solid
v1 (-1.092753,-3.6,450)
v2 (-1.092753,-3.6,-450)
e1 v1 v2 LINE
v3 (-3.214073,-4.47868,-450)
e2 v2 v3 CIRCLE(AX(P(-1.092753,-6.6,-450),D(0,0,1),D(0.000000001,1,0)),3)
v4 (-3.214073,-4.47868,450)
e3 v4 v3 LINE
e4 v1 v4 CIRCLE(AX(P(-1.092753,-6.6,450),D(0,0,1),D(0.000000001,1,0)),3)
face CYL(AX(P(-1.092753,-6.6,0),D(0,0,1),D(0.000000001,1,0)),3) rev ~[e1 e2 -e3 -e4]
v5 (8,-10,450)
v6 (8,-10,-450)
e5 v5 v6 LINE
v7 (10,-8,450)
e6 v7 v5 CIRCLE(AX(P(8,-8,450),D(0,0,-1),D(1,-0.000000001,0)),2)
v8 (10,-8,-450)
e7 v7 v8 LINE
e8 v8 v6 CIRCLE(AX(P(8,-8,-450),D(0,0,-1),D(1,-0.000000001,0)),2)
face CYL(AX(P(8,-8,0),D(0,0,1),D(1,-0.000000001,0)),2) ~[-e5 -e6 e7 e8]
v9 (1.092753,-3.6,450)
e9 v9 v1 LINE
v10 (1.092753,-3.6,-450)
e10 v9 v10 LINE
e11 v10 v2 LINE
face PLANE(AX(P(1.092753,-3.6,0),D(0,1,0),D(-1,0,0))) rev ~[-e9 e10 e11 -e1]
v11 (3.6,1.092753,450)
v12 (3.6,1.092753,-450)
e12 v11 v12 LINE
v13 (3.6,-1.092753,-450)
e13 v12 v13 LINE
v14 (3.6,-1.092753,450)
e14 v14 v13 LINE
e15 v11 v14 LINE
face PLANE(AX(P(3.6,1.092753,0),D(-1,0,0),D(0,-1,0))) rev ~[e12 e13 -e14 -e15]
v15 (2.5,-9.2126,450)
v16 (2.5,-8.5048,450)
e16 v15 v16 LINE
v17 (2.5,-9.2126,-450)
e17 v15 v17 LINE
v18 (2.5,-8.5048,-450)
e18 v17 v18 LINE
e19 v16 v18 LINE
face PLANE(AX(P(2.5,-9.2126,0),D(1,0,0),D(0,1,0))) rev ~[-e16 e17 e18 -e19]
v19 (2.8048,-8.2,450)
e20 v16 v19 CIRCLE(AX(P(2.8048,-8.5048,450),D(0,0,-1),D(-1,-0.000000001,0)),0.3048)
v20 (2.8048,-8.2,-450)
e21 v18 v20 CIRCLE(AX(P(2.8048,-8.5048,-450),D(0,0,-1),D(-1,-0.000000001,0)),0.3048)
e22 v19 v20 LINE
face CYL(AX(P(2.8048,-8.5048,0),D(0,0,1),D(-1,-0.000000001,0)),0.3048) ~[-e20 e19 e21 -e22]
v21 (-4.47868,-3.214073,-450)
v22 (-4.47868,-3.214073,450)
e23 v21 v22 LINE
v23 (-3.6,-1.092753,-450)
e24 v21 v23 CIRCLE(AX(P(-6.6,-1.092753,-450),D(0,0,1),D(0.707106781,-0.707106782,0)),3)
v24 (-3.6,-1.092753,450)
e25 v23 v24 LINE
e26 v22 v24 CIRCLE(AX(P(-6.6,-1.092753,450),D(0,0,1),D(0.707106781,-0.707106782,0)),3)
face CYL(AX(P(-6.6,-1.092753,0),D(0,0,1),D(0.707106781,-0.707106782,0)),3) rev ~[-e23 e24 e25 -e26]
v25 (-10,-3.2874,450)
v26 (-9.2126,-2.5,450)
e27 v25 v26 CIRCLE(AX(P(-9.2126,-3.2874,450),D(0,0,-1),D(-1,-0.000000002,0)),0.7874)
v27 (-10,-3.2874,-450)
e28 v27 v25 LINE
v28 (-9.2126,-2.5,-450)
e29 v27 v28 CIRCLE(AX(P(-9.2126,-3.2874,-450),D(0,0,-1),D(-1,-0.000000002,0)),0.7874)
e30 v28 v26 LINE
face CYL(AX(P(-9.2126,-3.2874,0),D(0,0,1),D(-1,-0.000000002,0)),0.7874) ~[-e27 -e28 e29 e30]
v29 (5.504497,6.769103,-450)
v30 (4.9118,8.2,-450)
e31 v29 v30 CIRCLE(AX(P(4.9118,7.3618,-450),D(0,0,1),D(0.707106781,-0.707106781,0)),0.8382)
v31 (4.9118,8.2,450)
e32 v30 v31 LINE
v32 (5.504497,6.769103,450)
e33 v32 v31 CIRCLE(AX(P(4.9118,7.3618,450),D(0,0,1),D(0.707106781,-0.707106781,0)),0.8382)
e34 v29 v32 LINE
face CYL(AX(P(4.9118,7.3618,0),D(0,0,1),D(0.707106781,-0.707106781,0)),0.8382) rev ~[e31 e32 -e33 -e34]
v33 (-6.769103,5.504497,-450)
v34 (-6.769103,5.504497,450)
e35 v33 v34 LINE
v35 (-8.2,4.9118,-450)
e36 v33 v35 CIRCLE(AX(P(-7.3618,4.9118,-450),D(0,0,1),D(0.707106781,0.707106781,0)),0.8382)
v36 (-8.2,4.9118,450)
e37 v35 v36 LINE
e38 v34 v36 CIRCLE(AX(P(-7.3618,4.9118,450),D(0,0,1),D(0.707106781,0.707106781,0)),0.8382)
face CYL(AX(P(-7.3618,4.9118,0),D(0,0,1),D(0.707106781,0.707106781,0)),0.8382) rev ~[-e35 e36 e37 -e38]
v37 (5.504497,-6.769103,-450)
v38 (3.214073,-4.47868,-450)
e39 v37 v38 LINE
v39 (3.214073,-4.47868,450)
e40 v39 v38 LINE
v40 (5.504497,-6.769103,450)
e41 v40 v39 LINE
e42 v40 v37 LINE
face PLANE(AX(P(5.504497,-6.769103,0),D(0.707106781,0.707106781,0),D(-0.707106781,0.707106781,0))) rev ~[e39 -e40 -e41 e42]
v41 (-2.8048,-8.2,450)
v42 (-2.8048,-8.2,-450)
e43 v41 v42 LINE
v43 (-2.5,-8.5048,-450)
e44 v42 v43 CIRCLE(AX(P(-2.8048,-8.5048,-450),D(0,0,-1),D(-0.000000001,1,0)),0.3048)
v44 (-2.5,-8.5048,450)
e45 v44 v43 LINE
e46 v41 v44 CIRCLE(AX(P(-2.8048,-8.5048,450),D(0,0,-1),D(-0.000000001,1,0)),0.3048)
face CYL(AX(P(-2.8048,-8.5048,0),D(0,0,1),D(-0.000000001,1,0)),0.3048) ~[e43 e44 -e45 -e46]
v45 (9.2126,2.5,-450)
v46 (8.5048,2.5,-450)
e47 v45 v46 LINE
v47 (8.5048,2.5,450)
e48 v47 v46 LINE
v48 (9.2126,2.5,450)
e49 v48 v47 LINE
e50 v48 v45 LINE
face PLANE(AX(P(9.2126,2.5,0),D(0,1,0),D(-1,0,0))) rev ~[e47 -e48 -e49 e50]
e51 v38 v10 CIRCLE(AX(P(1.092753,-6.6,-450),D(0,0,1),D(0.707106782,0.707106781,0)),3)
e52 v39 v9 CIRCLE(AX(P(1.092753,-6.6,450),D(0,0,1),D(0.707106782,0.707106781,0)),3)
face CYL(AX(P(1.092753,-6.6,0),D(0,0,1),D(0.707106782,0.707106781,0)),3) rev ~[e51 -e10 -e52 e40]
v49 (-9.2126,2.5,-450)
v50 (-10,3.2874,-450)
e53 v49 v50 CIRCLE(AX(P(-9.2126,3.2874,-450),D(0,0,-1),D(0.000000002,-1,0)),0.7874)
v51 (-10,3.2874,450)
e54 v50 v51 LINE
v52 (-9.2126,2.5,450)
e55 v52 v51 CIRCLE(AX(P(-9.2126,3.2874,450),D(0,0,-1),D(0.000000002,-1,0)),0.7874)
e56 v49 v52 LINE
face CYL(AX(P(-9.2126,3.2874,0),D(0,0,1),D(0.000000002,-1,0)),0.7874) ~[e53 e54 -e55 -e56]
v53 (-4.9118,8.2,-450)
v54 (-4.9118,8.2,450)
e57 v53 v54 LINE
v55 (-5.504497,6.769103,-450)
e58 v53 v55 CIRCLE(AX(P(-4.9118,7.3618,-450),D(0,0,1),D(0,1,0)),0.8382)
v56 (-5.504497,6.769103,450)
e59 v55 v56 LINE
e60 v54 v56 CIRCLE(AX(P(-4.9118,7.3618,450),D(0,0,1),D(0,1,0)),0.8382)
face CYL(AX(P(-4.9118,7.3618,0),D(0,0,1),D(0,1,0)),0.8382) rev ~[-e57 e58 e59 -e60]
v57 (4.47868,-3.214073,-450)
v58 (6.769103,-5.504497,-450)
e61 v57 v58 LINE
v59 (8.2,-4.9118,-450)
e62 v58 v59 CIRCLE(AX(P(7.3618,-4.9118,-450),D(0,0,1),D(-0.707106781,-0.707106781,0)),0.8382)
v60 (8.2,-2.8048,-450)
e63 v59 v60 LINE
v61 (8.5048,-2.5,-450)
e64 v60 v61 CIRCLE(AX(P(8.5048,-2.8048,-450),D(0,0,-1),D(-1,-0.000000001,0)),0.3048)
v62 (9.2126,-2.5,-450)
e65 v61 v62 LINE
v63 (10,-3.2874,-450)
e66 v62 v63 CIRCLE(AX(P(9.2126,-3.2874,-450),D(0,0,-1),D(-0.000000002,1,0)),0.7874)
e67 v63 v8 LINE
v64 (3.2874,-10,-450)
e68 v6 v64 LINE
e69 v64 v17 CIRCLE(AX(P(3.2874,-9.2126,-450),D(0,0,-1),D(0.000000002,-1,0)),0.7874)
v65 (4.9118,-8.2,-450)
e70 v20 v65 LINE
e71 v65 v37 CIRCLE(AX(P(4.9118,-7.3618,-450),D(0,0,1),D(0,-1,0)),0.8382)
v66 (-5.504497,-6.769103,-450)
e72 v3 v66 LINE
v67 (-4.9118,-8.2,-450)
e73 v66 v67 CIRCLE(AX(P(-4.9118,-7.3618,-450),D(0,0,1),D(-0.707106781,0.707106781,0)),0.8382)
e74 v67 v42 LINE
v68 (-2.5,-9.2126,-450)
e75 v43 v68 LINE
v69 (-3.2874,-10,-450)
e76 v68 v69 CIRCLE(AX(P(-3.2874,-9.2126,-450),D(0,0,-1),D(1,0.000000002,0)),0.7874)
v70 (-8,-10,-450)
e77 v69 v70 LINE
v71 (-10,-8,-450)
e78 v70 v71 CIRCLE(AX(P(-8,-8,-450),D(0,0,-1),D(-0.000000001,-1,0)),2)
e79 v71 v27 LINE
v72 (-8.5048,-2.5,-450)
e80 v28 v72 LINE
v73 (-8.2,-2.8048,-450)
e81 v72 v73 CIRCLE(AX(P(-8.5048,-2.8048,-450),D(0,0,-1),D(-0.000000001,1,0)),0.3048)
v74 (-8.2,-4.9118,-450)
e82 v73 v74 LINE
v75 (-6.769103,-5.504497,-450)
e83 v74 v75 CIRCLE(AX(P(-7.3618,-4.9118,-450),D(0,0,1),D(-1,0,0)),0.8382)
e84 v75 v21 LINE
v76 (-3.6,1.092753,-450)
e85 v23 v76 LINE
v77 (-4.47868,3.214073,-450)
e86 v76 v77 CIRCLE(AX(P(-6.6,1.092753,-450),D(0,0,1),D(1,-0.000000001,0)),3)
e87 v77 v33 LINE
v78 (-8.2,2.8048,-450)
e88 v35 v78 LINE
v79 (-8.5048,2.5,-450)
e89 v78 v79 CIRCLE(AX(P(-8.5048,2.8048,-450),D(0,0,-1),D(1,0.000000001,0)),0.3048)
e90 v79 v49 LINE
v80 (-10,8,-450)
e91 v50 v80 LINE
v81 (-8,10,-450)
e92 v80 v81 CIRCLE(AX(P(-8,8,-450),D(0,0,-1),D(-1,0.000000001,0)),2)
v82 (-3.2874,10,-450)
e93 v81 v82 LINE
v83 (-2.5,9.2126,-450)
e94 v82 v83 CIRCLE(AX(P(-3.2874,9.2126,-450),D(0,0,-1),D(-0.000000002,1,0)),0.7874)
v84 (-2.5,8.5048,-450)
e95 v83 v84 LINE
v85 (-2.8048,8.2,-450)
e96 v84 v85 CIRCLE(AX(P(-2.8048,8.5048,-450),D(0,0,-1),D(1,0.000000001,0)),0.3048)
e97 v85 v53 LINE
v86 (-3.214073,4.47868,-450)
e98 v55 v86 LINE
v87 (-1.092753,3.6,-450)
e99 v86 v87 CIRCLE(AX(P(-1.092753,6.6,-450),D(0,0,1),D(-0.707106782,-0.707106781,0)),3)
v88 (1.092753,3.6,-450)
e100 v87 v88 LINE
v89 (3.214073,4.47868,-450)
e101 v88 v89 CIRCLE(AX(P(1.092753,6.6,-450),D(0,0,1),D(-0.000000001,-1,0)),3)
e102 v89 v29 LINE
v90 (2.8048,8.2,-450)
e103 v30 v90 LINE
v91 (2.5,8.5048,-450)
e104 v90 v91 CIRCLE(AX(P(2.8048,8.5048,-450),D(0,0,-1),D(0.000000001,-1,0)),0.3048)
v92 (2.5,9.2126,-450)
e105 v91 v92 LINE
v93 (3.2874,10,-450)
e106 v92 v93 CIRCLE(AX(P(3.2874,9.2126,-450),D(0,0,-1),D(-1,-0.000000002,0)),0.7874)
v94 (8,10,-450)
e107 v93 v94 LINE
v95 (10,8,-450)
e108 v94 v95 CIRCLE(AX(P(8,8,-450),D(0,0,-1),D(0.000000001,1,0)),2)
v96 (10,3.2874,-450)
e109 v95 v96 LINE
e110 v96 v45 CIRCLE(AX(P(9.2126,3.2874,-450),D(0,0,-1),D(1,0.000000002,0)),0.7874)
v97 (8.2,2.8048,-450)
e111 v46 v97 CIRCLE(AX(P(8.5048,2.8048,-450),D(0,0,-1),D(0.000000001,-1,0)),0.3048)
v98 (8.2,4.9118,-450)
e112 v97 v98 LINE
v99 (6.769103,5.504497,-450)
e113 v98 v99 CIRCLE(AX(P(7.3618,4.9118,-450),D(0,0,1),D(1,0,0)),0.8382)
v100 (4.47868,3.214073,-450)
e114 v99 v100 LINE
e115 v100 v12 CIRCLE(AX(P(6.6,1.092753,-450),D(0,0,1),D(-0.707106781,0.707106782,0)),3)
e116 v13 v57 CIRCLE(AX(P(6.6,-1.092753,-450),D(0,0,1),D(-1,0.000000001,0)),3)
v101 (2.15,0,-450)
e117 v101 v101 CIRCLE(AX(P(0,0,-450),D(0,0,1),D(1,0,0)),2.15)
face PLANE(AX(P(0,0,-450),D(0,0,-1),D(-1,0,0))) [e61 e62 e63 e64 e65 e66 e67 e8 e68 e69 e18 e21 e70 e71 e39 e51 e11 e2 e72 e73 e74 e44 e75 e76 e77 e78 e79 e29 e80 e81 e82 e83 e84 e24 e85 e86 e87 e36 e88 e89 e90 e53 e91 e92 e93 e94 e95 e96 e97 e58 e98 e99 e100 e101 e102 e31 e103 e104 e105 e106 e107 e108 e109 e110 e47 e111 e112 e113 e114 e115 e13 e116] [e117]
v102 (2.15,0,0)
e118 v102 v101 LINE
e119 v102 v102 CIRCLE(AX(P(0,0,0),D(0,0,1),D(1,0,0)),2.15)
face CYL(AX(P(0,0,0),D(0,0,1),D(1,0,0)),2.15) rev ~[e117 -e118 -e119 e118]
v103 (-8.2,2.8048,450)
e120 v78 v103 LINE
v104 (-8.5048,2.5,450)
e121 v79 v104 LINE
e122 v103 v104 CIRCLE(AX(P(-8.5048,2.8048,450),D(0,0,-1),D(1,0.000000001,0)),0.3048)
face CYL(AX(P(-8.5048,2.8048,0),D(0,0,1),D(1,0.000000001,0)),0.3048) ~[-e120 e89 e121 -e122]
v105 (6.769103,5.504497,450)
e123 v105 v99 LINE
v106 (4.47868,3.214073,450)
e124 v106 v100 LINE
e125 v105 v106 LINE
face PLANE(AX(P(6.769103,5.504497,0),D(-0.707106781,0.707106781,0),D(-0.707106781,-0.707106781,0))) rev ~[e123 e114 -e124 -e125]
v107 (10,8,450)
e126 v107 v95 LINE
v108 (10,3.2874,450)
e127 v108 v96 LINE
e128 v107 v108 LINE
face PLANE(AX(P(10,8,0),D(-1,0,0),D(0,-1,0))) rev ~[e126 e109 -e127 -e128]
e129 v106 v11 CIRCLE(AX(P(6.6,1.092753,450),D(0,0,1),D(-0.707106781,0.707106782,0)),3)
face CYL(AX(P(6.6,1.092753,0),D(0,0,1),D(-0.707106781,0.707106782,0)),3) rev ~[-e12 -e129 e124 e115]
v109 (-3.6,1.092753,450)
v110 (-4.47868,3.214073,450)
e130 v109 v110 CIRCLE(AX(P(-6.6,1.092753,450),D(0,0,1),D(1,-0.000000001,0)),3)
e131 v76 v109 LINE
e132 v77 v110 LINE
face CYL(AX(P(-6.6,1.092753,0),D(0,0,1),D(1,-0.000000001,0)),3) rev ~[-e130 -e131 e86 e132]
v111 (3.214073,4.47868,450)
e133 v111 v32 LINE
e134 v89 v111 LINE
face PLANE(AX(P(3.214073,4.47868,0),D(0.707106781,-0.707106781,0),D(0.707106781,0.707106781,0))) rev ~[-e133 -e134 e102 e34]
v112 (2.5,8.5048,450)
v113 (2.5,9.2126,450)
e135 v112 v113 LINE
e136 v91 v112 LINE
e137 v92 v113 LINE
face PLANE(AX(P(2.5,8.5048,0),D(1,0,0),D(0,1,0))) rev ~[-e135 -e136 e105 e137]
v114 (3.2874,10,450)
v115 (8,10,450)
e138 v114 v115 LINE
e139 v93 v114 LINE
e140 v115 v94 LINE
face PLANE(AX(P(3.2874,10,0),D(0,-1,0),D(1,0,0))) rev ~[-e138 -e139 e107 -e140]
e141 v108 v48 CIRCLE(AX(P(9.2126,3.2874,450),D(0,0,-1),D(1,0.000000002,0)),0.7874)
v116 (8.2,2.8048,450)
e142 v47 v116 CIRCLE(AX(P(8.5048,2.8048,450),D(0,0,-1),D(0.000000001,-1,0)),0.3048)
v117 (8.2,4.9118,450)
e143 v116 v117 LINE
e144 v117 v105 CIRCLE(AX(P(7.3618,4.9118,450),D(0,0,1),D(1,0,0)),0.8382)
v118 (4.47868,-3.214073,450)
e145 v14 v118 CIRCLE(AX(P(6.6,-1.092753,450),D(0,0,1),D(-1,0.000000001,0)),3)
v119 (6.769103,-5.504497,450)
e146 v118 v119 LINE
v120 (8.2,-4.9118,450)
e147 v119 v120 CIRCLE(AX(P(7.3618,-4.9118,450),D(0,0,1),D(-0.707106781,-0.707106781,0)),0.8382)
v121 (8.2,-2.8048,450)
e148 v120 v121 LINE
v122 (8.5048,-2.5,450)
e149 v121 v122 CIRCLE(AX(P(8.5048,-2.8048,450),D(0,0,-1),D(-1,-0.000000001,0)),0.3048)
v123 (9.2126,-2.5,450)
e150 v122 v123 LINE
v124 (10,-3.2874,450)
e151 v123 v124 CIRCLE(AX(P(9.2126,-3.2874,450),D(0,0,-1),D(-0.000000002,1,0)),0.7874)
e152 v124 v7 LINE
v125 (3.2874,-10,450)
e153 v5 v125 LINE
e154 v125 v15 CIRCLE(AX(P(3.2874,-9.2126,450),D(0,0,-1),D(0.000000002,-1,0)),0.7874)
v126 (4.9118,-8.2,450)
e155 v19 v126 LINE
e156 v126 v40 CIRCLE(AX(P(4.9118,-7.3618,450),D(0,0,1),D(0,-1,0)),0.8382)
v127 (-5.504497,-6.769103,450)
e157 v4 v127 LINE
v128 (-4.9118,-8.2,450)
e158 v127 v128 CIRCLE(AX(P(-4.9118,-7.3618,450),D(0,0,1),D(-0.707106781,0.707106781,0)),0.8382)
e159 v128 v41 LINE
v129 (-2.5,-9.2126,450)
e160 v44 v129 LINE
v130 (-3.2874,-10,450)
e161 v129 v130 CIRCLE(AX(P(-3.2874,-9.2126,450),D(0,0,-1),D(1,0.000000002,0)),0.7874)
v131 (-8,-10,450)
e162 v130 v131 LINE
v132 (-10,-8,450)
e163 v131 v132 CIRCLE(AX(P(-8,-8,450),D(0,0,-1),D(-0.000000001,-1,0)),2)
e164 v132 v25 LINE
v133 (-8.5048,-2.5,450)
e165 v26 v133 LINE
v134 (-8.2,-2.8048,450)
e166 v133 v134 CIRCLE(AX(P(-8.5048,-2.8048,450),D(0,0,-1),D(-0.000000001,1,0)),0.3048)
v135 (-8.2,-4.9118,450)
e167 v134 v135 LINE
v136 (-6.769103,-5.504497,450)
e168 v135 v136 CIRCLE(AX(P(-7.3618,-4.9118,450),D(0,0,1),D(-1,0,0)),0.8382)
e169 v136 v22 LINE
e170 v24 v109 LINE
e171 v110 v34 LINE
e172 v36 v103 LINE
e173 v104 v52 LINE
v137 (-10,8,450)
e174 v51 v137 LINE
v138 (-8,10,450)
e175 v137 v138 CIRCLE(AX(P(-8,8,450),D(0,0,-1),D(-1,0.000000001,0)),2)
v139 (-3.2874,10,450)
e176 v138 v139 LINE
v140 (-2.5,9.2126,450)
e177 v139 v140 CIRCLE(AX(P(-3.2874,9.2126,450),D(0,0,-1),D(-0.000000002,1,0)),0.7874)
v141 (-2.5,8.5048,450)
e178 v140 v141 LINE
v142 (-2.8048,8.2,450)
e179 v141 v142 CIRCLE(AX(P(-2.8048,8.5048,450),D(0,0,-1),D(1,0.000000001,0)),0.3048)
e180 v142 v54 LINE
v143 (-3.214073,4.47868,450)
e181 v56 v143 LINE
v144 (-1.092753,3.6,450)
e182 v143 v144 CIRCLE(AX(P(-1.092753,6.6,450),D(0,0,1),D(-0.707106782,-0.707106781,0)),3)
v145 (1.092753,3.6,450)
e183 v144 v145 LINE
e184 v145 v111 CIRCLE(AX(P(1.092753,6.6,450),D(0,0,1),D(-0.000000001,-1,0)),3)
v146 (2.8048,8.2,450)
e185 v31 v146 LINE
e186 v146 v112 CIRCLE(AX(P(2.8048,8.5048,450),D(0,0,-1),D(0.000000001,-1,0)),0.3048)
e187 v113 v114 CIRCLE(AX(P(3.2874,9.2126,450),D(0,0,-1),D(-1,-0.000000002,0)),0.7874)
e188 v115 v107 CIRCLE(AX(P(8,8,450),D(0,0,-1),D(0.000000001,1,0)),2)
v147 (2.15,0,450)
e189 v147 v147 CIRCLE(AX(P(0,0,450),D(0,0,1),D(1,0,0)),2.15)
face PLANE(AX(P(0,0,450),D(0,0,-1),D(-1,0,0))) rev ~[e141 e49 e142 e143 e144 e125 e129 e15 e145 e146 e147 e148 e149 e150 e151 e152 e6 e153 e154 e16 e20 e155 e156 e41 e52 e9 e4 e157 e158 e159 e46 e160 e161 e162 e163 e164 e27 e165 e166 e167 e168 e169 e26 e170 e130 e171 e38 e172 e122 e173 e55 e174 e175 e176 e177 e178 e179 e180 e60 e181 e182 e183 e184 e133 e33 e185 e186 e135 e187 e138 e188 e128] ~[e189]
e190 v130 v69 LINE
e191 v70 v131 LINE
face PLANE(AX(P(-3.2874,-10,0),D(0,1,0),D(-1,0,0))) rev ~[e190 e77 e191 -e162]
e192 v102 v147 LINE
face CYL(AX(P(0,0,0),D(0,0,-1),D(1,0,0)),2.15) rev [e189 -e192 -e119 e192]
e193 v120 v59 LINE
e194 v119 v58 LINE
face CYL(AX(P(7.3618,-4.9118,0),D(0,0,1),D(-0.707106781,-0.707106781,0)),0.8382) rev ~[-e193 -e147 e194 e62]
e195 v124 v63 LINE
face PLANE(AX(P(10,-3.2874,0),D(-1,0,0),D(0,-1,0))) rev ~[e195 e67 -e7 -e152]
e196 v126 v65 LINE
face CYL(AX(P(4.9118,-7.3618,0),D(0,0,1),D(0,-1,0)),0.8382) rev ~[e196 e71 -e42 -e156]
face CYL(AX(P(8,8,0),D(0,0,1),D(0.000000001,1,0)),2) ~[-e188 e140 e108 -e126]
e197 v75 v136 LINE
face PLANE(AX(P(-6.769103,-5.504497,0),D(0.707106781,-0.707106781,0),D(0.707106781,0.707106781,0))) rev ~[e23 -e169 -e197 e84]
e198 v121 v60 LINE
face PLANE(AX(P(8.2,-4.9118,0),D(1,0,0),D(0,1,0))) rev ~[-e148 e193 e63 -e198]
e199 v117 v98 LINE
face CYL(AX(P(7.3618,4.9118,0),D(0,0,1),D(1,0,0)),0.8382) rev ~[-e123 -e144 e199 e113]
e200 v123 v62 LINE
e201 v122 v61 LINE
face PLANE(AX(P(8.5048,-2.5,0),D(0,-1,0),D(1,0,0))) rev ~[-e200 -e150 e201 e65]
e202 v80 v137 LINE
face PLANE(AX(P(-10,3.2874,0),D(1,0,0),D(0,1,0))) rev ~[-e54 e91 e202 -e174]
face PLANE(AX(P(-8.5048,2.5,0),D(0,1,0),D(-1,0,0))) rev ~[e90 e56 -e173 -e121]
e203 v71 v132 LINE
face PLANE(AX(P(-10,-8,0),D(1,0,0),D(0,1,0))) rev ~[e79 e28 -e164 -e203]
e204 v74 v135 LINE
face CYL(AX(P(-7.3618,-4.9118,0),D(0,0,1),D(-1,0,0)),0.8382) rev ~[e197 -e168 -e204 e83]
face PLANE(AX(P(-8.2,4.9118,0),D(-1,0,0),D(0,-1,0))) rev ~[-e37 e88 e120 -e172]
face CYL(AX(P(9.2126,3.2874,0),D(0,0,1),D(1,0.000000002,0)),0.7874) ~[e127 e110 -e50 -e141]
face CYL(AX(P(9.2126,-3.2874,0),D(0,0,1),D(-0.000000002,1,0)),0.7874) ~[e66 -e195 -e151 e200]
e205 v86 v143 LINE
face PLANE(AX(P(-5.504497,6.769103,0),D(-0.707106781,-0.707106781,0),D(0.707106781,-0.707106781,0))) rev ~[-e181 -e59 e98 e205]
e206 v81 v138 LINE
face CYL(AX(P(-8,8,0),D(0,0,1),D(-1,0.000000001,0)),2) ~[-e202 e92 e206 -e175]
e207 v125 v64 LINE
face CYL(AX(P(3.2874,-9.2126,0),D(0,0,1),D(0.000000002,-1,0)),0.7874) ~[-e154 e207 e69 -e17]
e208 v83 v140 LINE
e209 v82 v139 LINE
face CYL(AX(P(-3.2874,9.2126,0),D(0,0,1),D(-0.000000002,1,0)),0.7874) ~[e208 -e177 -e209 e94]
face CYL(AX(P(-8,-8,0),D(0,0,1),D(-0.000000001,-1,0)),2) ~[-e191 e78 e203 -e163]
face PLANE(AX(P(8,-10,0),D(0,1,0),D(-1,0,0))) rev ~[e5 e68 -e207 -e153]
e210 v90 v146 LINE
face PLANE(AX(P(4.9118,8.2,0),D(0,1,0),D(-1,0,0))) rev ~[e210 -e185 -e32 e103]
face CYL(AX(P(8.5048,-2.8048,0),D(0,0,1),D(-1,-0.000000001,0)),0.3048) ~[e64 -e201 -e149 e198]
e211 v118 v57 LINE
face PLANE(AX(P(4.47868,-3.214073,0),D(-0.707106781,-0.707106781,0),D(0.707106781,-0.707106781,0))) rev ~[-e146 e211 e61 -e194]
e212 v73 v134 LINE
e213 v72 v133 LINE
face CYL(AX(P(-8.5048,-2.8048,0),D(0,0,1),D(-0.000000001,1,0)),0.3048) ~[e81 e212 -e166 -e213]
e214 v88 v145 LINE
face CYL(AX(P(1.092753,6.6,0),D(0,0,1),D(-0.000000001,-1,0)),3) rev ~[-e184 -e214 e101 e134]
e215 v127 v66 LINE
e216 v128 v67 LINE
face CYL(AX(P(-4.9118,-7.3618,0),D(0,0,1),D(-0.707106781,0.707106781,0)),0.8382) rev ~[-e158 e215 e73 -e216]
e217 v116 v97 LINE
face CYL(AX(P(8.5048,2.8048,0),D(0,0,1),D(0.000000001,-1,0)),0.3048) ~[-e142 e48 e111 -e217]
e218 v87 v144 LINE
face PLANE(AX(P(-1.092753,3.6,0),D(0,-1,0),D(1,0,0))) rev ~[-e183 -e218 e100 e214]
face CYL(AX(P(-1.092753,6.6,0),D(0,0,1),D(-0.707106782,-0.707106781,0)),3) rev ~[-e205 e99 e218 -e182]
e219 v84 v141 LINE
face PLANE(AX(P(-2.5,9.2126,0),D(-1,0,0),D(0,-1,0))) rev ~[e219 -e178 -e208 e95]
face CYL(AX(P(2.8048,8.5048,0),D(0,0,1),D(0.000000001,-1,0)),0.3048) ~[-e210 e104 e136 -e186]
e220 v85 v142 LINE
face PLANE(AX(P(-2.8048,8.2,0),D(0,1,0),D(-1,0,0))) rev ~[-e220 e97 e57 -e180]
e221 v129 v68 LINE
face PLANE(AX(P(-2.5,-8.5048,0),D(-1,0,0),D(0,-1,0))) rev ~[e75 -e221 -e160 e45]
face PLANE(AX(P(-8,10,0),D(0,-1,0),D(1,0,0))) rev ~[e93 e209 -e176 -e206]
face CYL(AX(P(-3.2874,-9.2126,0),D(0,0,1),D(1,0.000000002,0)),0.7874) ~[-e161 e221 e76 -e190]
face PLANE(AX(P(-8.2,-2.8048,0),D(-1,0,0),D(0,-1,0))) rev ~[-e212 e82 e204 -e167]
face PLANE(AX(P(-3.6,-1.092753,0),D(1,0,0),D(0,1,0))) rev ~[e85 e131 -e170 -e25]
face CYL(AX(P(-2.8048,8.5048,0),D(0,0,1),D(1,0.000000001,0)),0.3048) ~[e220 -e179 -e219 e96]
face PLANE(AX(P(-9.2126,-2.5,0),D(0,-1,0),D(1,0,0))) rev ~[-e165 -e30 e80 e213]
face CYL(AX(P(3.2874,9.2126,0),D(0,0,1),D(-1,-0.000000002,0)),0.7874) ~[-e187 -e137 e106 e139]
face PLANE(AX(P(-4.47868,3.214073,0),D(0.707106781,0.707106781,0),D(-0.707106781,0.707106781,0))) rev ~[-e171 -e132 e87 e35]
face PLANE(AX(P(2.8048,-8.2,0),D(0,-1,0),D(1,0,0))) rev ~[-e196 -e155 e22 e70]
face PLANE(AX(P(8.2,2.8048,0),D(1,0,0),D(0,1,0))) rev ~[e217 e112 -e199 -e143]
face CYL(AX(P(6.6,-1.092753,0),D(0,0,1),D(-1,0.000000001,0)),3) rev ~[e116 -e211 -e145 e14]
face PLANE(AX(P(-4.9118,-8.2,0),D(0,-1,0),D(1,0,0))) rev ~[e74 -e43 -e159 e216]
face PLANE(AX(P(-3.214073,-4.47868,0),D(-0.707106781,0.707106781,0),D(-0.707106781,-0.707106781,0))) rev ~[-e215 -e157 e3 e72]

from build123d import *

# Parameters (mm, degrees)
SKETCH3_R                = 2.15
BOSS_EXTRUDE1_DEPTH      = 450
BOSS_EXTRUDE1_DEPTH_BACK = 450


with BuildPart() as part:
    # Sketch3 → Boss-Extrude1 (new body, two sides)
    with BuildSketch(Plane.XY) as boss_extrude1_sk:
        with BuildLine():
            Line((3.2874, 10), (8, 10))
            ThreePointArc((8, 10), (9.414213562, 9.414213562), (10, 8))
            Line((10, 8), (10, 3.2874))
            ThreePointArc((10, 3.2874), (9.76937588, 2.73062412), (9.2126, 2.5))
            Line((9.2126, 2.5), (8.5048, 2.5))
            ThreePointArc((8.5048, 2.5), (8.289273853, 2.589273853), (8.2, 2.8048))
            Line((8.2, 2.8048), (8.2, 4.9118))
            ThreePointArc((8.2, 4.9118), (7.682565253, 5.686195824), (6.769103096, 5.504496904))
            Line((6.769103096, 5.504496904), (4.478679656, 3.214073464))
            ThreePointArc((4.478679656, 3.214073464), (3.828361402, 2.240803418), (3.6, 1.092753121))
            Line((3.6, 1.092753121), (3.6, -1.092753121))
            ThreePointArc((3.6, -1.092753121), (3.828361402, -2.240803418), (4.478679656, -3.214073464))
            Line((4.478679656, -3.214073464), (6.769103096, -5.504496904))
            ThreePointArc((6.769103096, -5.504496904), (7.682565253, -5.686195824), (8.2, -4.9118))
            Line((8.2, -4.9118), (8.2, -2.8048))
            ThreePointArc((8.2, -2.8048), (8.289273853, -2.589273853), (8.5048, -2.5))
            Line((8.5048, -2.5), (9.2126, -2.5))
            ThreePointArc((9.2126, -2.5), (9.76937588, -2.73062412), (10, -3.2874))
            Line((10, -3.2874), (10, -8))
            ThreePointArc((10, -8), (9.414213562, -9.414213562), (8, -10))
            Line((8, -10), (3.2874, -10))
            ThreePointArc((3.2874, -10), (2.73062412, -9.76937588), (2.5, -9.2126))
            Line((2.5, -9.2126), (2.5, -8.5048))
            ThreePointArc((2.5, -8.5048), (2.589273853, -8.289273853), (2.8048, -8.2))
            Line((2.8048, -8.2), (4.9118, -8.2))
            ThreePointArc((4.9118, -8.2), (5.686195824, -7.682565253), (5.504496904, -6.769103096))
            Line((5.504496904, -6.769103096), (3.214073464, -4.478679656))
            ThreePointArc((3.214073464, -4.478679656), (2.240803418, -3.828361402), (1.092753121, -3.6))
            Line((1.092753121, -3.6), (-1.092753121, -3.6))
            ThreePointArc((-1.092753121, -3.6), (-2.240803418, -3.828361402), (-3.214073464, -4.478679656))
            Line((-3.214073464, -4.478679656), (-5.504496904, -6.769103096))
            ThreePointArc((-5.504496904, -6.769103096), (-5.686195824, -7.682565253), (-4.9118, -8.2))
            Line((-4.9118, -8.2), (-2.8048, -8.2))
            ThreePointArc((-2.8048, -8.2), (-2.589273853, -8.289273853), (-2.5, -8.5048))
            Line((-2.5, -8.5048), (-2.5, -9.2126))
            ThreePointArc((-2.5, -9.2126), (-2.73062412, -9.76937588), (-3.2874, -10))
            Line((-3.2874, -10), (-8, -10))
            ThreePointArc((-8, -10), (-9.414213562, -9.414213562), (-10, -8))
            Line((-10, -8), (-10, -3.2874))
            ThreePointArc((-10, -3.2874), (-9.76937588, -2.73062412), (-9.2126, -2.5))
            Line((-9.2126, -2.5), (-8.5048, -2.5))
            ThreePointArc((-8.5048, -2.5), (-8.289273853, -2.589273853), (-8.2, -2.8048))
            Line((-8.2, -2.8048), (-8.2, -4.9118))
            ThreePointArc((-8.2, -4.9118), (-7.682565253, -5.686195824), (-6.769103096, -5.504496904))
            Line((-6.769103096, -5.504496904), (-4.478679656, -3.214073464))
            ThreePointArc((-4.478679656, -3.214073464), (-3.828361402, -2.240803418), (-3.6, -1.092753121))
            Line((-3.6, -1.092753121), (-3.6, 1.092753121))
            ThreePointArc((-3.6, 1.092753121), (-3.828361402, 2.240803418), (-4.478679656, 3.214073464))
            Line((-4.478679656, 3.214073464), (-6.769103096, 5.504496904))
            ThreePointArc((-6.769103096, 5.504496904), (-7.682565253, 5.686195824), (-8.2, 4.9118))
            Line((-8.2, 4.9118), (-8.2, 2.8048))
            ThreePointArc((-8.2, 2.8048), (-8.289273853, 2.589273853), (-8.5048, 2.5))
            Line((-8.5048, 2.5), (-9.2126, 2.5))
            ThreePointArc((-9.2126, 2.5), (-9.76937588, 2.73062412), (-10, 3.2874))
            Line((-10, 3.2874), (-10, 8))
            ThreePointArc((-10, 8), (-9.414213562, 9.414213562), (-8, 10))
            Line((-8, 10), (-3.2874, 10))
            ThreePointArc((-3.2874, 10), (-2.73062412, 9.76937588), (-2.5, 9.2126))
            Line((-2.5, 9.2126), (-2.5, 8.5048))
            ThreePointArc((-2.5, 8.5048), (-2.589273853, 8.289273853), (-2.8048, 8.2))
            Line((-2.8048, 8.2), (-4.9118, 8.2))
            ThreePointArc((-4.9118, 8.2), (-5.686195824, 7.682565253), (-5.504496904, 6.769103096))
            Line((-5.504496904, 6.769103096), (-3.214073464, 4.478679656))
            ThreePointArc((-3.214073464, 4.478679656), (-2.240803418, 3.828361402), (-1.092753121, 3.6))
            Line((-1.092753121, 3.6), (1.092753121, 3.6))
            ThreePointArc((1.092753121, 3.6), (2.240803418, 3.828361402), (3.214073464, 4.478679656))
            Line((3.214073464, 4.478679656), (5.504496904, 6.769103096))
            ThreePointArc((5.504496904, 6.769103096), (5.686195824, 7.682565253), (4.9118, 8.2))
            Line((4.9118, 8.2), (2.8048, 8.2))
            ThreePointArc((2.8048, 8.2), (2.589273853, 8.289273853), (2.5, 8.5048))
            Line((2.5, 8.5048), (2.5, 9.2126))
            ThreePointArc((2.5, 9.2126), (2.73062412, 9.76937588), (3.2874, 10))
        make_face()
        Circle(SKETCH3_R, mode=Mode.SUBTRACT)
    extrude(amount=BOSS_EXTRUDE1_DEPTH)
    extrude(boss_extrude1_sk.sketch, amount=-BOSS_EXTRUDE1_DEPTH_BACK)


solid = part.part
